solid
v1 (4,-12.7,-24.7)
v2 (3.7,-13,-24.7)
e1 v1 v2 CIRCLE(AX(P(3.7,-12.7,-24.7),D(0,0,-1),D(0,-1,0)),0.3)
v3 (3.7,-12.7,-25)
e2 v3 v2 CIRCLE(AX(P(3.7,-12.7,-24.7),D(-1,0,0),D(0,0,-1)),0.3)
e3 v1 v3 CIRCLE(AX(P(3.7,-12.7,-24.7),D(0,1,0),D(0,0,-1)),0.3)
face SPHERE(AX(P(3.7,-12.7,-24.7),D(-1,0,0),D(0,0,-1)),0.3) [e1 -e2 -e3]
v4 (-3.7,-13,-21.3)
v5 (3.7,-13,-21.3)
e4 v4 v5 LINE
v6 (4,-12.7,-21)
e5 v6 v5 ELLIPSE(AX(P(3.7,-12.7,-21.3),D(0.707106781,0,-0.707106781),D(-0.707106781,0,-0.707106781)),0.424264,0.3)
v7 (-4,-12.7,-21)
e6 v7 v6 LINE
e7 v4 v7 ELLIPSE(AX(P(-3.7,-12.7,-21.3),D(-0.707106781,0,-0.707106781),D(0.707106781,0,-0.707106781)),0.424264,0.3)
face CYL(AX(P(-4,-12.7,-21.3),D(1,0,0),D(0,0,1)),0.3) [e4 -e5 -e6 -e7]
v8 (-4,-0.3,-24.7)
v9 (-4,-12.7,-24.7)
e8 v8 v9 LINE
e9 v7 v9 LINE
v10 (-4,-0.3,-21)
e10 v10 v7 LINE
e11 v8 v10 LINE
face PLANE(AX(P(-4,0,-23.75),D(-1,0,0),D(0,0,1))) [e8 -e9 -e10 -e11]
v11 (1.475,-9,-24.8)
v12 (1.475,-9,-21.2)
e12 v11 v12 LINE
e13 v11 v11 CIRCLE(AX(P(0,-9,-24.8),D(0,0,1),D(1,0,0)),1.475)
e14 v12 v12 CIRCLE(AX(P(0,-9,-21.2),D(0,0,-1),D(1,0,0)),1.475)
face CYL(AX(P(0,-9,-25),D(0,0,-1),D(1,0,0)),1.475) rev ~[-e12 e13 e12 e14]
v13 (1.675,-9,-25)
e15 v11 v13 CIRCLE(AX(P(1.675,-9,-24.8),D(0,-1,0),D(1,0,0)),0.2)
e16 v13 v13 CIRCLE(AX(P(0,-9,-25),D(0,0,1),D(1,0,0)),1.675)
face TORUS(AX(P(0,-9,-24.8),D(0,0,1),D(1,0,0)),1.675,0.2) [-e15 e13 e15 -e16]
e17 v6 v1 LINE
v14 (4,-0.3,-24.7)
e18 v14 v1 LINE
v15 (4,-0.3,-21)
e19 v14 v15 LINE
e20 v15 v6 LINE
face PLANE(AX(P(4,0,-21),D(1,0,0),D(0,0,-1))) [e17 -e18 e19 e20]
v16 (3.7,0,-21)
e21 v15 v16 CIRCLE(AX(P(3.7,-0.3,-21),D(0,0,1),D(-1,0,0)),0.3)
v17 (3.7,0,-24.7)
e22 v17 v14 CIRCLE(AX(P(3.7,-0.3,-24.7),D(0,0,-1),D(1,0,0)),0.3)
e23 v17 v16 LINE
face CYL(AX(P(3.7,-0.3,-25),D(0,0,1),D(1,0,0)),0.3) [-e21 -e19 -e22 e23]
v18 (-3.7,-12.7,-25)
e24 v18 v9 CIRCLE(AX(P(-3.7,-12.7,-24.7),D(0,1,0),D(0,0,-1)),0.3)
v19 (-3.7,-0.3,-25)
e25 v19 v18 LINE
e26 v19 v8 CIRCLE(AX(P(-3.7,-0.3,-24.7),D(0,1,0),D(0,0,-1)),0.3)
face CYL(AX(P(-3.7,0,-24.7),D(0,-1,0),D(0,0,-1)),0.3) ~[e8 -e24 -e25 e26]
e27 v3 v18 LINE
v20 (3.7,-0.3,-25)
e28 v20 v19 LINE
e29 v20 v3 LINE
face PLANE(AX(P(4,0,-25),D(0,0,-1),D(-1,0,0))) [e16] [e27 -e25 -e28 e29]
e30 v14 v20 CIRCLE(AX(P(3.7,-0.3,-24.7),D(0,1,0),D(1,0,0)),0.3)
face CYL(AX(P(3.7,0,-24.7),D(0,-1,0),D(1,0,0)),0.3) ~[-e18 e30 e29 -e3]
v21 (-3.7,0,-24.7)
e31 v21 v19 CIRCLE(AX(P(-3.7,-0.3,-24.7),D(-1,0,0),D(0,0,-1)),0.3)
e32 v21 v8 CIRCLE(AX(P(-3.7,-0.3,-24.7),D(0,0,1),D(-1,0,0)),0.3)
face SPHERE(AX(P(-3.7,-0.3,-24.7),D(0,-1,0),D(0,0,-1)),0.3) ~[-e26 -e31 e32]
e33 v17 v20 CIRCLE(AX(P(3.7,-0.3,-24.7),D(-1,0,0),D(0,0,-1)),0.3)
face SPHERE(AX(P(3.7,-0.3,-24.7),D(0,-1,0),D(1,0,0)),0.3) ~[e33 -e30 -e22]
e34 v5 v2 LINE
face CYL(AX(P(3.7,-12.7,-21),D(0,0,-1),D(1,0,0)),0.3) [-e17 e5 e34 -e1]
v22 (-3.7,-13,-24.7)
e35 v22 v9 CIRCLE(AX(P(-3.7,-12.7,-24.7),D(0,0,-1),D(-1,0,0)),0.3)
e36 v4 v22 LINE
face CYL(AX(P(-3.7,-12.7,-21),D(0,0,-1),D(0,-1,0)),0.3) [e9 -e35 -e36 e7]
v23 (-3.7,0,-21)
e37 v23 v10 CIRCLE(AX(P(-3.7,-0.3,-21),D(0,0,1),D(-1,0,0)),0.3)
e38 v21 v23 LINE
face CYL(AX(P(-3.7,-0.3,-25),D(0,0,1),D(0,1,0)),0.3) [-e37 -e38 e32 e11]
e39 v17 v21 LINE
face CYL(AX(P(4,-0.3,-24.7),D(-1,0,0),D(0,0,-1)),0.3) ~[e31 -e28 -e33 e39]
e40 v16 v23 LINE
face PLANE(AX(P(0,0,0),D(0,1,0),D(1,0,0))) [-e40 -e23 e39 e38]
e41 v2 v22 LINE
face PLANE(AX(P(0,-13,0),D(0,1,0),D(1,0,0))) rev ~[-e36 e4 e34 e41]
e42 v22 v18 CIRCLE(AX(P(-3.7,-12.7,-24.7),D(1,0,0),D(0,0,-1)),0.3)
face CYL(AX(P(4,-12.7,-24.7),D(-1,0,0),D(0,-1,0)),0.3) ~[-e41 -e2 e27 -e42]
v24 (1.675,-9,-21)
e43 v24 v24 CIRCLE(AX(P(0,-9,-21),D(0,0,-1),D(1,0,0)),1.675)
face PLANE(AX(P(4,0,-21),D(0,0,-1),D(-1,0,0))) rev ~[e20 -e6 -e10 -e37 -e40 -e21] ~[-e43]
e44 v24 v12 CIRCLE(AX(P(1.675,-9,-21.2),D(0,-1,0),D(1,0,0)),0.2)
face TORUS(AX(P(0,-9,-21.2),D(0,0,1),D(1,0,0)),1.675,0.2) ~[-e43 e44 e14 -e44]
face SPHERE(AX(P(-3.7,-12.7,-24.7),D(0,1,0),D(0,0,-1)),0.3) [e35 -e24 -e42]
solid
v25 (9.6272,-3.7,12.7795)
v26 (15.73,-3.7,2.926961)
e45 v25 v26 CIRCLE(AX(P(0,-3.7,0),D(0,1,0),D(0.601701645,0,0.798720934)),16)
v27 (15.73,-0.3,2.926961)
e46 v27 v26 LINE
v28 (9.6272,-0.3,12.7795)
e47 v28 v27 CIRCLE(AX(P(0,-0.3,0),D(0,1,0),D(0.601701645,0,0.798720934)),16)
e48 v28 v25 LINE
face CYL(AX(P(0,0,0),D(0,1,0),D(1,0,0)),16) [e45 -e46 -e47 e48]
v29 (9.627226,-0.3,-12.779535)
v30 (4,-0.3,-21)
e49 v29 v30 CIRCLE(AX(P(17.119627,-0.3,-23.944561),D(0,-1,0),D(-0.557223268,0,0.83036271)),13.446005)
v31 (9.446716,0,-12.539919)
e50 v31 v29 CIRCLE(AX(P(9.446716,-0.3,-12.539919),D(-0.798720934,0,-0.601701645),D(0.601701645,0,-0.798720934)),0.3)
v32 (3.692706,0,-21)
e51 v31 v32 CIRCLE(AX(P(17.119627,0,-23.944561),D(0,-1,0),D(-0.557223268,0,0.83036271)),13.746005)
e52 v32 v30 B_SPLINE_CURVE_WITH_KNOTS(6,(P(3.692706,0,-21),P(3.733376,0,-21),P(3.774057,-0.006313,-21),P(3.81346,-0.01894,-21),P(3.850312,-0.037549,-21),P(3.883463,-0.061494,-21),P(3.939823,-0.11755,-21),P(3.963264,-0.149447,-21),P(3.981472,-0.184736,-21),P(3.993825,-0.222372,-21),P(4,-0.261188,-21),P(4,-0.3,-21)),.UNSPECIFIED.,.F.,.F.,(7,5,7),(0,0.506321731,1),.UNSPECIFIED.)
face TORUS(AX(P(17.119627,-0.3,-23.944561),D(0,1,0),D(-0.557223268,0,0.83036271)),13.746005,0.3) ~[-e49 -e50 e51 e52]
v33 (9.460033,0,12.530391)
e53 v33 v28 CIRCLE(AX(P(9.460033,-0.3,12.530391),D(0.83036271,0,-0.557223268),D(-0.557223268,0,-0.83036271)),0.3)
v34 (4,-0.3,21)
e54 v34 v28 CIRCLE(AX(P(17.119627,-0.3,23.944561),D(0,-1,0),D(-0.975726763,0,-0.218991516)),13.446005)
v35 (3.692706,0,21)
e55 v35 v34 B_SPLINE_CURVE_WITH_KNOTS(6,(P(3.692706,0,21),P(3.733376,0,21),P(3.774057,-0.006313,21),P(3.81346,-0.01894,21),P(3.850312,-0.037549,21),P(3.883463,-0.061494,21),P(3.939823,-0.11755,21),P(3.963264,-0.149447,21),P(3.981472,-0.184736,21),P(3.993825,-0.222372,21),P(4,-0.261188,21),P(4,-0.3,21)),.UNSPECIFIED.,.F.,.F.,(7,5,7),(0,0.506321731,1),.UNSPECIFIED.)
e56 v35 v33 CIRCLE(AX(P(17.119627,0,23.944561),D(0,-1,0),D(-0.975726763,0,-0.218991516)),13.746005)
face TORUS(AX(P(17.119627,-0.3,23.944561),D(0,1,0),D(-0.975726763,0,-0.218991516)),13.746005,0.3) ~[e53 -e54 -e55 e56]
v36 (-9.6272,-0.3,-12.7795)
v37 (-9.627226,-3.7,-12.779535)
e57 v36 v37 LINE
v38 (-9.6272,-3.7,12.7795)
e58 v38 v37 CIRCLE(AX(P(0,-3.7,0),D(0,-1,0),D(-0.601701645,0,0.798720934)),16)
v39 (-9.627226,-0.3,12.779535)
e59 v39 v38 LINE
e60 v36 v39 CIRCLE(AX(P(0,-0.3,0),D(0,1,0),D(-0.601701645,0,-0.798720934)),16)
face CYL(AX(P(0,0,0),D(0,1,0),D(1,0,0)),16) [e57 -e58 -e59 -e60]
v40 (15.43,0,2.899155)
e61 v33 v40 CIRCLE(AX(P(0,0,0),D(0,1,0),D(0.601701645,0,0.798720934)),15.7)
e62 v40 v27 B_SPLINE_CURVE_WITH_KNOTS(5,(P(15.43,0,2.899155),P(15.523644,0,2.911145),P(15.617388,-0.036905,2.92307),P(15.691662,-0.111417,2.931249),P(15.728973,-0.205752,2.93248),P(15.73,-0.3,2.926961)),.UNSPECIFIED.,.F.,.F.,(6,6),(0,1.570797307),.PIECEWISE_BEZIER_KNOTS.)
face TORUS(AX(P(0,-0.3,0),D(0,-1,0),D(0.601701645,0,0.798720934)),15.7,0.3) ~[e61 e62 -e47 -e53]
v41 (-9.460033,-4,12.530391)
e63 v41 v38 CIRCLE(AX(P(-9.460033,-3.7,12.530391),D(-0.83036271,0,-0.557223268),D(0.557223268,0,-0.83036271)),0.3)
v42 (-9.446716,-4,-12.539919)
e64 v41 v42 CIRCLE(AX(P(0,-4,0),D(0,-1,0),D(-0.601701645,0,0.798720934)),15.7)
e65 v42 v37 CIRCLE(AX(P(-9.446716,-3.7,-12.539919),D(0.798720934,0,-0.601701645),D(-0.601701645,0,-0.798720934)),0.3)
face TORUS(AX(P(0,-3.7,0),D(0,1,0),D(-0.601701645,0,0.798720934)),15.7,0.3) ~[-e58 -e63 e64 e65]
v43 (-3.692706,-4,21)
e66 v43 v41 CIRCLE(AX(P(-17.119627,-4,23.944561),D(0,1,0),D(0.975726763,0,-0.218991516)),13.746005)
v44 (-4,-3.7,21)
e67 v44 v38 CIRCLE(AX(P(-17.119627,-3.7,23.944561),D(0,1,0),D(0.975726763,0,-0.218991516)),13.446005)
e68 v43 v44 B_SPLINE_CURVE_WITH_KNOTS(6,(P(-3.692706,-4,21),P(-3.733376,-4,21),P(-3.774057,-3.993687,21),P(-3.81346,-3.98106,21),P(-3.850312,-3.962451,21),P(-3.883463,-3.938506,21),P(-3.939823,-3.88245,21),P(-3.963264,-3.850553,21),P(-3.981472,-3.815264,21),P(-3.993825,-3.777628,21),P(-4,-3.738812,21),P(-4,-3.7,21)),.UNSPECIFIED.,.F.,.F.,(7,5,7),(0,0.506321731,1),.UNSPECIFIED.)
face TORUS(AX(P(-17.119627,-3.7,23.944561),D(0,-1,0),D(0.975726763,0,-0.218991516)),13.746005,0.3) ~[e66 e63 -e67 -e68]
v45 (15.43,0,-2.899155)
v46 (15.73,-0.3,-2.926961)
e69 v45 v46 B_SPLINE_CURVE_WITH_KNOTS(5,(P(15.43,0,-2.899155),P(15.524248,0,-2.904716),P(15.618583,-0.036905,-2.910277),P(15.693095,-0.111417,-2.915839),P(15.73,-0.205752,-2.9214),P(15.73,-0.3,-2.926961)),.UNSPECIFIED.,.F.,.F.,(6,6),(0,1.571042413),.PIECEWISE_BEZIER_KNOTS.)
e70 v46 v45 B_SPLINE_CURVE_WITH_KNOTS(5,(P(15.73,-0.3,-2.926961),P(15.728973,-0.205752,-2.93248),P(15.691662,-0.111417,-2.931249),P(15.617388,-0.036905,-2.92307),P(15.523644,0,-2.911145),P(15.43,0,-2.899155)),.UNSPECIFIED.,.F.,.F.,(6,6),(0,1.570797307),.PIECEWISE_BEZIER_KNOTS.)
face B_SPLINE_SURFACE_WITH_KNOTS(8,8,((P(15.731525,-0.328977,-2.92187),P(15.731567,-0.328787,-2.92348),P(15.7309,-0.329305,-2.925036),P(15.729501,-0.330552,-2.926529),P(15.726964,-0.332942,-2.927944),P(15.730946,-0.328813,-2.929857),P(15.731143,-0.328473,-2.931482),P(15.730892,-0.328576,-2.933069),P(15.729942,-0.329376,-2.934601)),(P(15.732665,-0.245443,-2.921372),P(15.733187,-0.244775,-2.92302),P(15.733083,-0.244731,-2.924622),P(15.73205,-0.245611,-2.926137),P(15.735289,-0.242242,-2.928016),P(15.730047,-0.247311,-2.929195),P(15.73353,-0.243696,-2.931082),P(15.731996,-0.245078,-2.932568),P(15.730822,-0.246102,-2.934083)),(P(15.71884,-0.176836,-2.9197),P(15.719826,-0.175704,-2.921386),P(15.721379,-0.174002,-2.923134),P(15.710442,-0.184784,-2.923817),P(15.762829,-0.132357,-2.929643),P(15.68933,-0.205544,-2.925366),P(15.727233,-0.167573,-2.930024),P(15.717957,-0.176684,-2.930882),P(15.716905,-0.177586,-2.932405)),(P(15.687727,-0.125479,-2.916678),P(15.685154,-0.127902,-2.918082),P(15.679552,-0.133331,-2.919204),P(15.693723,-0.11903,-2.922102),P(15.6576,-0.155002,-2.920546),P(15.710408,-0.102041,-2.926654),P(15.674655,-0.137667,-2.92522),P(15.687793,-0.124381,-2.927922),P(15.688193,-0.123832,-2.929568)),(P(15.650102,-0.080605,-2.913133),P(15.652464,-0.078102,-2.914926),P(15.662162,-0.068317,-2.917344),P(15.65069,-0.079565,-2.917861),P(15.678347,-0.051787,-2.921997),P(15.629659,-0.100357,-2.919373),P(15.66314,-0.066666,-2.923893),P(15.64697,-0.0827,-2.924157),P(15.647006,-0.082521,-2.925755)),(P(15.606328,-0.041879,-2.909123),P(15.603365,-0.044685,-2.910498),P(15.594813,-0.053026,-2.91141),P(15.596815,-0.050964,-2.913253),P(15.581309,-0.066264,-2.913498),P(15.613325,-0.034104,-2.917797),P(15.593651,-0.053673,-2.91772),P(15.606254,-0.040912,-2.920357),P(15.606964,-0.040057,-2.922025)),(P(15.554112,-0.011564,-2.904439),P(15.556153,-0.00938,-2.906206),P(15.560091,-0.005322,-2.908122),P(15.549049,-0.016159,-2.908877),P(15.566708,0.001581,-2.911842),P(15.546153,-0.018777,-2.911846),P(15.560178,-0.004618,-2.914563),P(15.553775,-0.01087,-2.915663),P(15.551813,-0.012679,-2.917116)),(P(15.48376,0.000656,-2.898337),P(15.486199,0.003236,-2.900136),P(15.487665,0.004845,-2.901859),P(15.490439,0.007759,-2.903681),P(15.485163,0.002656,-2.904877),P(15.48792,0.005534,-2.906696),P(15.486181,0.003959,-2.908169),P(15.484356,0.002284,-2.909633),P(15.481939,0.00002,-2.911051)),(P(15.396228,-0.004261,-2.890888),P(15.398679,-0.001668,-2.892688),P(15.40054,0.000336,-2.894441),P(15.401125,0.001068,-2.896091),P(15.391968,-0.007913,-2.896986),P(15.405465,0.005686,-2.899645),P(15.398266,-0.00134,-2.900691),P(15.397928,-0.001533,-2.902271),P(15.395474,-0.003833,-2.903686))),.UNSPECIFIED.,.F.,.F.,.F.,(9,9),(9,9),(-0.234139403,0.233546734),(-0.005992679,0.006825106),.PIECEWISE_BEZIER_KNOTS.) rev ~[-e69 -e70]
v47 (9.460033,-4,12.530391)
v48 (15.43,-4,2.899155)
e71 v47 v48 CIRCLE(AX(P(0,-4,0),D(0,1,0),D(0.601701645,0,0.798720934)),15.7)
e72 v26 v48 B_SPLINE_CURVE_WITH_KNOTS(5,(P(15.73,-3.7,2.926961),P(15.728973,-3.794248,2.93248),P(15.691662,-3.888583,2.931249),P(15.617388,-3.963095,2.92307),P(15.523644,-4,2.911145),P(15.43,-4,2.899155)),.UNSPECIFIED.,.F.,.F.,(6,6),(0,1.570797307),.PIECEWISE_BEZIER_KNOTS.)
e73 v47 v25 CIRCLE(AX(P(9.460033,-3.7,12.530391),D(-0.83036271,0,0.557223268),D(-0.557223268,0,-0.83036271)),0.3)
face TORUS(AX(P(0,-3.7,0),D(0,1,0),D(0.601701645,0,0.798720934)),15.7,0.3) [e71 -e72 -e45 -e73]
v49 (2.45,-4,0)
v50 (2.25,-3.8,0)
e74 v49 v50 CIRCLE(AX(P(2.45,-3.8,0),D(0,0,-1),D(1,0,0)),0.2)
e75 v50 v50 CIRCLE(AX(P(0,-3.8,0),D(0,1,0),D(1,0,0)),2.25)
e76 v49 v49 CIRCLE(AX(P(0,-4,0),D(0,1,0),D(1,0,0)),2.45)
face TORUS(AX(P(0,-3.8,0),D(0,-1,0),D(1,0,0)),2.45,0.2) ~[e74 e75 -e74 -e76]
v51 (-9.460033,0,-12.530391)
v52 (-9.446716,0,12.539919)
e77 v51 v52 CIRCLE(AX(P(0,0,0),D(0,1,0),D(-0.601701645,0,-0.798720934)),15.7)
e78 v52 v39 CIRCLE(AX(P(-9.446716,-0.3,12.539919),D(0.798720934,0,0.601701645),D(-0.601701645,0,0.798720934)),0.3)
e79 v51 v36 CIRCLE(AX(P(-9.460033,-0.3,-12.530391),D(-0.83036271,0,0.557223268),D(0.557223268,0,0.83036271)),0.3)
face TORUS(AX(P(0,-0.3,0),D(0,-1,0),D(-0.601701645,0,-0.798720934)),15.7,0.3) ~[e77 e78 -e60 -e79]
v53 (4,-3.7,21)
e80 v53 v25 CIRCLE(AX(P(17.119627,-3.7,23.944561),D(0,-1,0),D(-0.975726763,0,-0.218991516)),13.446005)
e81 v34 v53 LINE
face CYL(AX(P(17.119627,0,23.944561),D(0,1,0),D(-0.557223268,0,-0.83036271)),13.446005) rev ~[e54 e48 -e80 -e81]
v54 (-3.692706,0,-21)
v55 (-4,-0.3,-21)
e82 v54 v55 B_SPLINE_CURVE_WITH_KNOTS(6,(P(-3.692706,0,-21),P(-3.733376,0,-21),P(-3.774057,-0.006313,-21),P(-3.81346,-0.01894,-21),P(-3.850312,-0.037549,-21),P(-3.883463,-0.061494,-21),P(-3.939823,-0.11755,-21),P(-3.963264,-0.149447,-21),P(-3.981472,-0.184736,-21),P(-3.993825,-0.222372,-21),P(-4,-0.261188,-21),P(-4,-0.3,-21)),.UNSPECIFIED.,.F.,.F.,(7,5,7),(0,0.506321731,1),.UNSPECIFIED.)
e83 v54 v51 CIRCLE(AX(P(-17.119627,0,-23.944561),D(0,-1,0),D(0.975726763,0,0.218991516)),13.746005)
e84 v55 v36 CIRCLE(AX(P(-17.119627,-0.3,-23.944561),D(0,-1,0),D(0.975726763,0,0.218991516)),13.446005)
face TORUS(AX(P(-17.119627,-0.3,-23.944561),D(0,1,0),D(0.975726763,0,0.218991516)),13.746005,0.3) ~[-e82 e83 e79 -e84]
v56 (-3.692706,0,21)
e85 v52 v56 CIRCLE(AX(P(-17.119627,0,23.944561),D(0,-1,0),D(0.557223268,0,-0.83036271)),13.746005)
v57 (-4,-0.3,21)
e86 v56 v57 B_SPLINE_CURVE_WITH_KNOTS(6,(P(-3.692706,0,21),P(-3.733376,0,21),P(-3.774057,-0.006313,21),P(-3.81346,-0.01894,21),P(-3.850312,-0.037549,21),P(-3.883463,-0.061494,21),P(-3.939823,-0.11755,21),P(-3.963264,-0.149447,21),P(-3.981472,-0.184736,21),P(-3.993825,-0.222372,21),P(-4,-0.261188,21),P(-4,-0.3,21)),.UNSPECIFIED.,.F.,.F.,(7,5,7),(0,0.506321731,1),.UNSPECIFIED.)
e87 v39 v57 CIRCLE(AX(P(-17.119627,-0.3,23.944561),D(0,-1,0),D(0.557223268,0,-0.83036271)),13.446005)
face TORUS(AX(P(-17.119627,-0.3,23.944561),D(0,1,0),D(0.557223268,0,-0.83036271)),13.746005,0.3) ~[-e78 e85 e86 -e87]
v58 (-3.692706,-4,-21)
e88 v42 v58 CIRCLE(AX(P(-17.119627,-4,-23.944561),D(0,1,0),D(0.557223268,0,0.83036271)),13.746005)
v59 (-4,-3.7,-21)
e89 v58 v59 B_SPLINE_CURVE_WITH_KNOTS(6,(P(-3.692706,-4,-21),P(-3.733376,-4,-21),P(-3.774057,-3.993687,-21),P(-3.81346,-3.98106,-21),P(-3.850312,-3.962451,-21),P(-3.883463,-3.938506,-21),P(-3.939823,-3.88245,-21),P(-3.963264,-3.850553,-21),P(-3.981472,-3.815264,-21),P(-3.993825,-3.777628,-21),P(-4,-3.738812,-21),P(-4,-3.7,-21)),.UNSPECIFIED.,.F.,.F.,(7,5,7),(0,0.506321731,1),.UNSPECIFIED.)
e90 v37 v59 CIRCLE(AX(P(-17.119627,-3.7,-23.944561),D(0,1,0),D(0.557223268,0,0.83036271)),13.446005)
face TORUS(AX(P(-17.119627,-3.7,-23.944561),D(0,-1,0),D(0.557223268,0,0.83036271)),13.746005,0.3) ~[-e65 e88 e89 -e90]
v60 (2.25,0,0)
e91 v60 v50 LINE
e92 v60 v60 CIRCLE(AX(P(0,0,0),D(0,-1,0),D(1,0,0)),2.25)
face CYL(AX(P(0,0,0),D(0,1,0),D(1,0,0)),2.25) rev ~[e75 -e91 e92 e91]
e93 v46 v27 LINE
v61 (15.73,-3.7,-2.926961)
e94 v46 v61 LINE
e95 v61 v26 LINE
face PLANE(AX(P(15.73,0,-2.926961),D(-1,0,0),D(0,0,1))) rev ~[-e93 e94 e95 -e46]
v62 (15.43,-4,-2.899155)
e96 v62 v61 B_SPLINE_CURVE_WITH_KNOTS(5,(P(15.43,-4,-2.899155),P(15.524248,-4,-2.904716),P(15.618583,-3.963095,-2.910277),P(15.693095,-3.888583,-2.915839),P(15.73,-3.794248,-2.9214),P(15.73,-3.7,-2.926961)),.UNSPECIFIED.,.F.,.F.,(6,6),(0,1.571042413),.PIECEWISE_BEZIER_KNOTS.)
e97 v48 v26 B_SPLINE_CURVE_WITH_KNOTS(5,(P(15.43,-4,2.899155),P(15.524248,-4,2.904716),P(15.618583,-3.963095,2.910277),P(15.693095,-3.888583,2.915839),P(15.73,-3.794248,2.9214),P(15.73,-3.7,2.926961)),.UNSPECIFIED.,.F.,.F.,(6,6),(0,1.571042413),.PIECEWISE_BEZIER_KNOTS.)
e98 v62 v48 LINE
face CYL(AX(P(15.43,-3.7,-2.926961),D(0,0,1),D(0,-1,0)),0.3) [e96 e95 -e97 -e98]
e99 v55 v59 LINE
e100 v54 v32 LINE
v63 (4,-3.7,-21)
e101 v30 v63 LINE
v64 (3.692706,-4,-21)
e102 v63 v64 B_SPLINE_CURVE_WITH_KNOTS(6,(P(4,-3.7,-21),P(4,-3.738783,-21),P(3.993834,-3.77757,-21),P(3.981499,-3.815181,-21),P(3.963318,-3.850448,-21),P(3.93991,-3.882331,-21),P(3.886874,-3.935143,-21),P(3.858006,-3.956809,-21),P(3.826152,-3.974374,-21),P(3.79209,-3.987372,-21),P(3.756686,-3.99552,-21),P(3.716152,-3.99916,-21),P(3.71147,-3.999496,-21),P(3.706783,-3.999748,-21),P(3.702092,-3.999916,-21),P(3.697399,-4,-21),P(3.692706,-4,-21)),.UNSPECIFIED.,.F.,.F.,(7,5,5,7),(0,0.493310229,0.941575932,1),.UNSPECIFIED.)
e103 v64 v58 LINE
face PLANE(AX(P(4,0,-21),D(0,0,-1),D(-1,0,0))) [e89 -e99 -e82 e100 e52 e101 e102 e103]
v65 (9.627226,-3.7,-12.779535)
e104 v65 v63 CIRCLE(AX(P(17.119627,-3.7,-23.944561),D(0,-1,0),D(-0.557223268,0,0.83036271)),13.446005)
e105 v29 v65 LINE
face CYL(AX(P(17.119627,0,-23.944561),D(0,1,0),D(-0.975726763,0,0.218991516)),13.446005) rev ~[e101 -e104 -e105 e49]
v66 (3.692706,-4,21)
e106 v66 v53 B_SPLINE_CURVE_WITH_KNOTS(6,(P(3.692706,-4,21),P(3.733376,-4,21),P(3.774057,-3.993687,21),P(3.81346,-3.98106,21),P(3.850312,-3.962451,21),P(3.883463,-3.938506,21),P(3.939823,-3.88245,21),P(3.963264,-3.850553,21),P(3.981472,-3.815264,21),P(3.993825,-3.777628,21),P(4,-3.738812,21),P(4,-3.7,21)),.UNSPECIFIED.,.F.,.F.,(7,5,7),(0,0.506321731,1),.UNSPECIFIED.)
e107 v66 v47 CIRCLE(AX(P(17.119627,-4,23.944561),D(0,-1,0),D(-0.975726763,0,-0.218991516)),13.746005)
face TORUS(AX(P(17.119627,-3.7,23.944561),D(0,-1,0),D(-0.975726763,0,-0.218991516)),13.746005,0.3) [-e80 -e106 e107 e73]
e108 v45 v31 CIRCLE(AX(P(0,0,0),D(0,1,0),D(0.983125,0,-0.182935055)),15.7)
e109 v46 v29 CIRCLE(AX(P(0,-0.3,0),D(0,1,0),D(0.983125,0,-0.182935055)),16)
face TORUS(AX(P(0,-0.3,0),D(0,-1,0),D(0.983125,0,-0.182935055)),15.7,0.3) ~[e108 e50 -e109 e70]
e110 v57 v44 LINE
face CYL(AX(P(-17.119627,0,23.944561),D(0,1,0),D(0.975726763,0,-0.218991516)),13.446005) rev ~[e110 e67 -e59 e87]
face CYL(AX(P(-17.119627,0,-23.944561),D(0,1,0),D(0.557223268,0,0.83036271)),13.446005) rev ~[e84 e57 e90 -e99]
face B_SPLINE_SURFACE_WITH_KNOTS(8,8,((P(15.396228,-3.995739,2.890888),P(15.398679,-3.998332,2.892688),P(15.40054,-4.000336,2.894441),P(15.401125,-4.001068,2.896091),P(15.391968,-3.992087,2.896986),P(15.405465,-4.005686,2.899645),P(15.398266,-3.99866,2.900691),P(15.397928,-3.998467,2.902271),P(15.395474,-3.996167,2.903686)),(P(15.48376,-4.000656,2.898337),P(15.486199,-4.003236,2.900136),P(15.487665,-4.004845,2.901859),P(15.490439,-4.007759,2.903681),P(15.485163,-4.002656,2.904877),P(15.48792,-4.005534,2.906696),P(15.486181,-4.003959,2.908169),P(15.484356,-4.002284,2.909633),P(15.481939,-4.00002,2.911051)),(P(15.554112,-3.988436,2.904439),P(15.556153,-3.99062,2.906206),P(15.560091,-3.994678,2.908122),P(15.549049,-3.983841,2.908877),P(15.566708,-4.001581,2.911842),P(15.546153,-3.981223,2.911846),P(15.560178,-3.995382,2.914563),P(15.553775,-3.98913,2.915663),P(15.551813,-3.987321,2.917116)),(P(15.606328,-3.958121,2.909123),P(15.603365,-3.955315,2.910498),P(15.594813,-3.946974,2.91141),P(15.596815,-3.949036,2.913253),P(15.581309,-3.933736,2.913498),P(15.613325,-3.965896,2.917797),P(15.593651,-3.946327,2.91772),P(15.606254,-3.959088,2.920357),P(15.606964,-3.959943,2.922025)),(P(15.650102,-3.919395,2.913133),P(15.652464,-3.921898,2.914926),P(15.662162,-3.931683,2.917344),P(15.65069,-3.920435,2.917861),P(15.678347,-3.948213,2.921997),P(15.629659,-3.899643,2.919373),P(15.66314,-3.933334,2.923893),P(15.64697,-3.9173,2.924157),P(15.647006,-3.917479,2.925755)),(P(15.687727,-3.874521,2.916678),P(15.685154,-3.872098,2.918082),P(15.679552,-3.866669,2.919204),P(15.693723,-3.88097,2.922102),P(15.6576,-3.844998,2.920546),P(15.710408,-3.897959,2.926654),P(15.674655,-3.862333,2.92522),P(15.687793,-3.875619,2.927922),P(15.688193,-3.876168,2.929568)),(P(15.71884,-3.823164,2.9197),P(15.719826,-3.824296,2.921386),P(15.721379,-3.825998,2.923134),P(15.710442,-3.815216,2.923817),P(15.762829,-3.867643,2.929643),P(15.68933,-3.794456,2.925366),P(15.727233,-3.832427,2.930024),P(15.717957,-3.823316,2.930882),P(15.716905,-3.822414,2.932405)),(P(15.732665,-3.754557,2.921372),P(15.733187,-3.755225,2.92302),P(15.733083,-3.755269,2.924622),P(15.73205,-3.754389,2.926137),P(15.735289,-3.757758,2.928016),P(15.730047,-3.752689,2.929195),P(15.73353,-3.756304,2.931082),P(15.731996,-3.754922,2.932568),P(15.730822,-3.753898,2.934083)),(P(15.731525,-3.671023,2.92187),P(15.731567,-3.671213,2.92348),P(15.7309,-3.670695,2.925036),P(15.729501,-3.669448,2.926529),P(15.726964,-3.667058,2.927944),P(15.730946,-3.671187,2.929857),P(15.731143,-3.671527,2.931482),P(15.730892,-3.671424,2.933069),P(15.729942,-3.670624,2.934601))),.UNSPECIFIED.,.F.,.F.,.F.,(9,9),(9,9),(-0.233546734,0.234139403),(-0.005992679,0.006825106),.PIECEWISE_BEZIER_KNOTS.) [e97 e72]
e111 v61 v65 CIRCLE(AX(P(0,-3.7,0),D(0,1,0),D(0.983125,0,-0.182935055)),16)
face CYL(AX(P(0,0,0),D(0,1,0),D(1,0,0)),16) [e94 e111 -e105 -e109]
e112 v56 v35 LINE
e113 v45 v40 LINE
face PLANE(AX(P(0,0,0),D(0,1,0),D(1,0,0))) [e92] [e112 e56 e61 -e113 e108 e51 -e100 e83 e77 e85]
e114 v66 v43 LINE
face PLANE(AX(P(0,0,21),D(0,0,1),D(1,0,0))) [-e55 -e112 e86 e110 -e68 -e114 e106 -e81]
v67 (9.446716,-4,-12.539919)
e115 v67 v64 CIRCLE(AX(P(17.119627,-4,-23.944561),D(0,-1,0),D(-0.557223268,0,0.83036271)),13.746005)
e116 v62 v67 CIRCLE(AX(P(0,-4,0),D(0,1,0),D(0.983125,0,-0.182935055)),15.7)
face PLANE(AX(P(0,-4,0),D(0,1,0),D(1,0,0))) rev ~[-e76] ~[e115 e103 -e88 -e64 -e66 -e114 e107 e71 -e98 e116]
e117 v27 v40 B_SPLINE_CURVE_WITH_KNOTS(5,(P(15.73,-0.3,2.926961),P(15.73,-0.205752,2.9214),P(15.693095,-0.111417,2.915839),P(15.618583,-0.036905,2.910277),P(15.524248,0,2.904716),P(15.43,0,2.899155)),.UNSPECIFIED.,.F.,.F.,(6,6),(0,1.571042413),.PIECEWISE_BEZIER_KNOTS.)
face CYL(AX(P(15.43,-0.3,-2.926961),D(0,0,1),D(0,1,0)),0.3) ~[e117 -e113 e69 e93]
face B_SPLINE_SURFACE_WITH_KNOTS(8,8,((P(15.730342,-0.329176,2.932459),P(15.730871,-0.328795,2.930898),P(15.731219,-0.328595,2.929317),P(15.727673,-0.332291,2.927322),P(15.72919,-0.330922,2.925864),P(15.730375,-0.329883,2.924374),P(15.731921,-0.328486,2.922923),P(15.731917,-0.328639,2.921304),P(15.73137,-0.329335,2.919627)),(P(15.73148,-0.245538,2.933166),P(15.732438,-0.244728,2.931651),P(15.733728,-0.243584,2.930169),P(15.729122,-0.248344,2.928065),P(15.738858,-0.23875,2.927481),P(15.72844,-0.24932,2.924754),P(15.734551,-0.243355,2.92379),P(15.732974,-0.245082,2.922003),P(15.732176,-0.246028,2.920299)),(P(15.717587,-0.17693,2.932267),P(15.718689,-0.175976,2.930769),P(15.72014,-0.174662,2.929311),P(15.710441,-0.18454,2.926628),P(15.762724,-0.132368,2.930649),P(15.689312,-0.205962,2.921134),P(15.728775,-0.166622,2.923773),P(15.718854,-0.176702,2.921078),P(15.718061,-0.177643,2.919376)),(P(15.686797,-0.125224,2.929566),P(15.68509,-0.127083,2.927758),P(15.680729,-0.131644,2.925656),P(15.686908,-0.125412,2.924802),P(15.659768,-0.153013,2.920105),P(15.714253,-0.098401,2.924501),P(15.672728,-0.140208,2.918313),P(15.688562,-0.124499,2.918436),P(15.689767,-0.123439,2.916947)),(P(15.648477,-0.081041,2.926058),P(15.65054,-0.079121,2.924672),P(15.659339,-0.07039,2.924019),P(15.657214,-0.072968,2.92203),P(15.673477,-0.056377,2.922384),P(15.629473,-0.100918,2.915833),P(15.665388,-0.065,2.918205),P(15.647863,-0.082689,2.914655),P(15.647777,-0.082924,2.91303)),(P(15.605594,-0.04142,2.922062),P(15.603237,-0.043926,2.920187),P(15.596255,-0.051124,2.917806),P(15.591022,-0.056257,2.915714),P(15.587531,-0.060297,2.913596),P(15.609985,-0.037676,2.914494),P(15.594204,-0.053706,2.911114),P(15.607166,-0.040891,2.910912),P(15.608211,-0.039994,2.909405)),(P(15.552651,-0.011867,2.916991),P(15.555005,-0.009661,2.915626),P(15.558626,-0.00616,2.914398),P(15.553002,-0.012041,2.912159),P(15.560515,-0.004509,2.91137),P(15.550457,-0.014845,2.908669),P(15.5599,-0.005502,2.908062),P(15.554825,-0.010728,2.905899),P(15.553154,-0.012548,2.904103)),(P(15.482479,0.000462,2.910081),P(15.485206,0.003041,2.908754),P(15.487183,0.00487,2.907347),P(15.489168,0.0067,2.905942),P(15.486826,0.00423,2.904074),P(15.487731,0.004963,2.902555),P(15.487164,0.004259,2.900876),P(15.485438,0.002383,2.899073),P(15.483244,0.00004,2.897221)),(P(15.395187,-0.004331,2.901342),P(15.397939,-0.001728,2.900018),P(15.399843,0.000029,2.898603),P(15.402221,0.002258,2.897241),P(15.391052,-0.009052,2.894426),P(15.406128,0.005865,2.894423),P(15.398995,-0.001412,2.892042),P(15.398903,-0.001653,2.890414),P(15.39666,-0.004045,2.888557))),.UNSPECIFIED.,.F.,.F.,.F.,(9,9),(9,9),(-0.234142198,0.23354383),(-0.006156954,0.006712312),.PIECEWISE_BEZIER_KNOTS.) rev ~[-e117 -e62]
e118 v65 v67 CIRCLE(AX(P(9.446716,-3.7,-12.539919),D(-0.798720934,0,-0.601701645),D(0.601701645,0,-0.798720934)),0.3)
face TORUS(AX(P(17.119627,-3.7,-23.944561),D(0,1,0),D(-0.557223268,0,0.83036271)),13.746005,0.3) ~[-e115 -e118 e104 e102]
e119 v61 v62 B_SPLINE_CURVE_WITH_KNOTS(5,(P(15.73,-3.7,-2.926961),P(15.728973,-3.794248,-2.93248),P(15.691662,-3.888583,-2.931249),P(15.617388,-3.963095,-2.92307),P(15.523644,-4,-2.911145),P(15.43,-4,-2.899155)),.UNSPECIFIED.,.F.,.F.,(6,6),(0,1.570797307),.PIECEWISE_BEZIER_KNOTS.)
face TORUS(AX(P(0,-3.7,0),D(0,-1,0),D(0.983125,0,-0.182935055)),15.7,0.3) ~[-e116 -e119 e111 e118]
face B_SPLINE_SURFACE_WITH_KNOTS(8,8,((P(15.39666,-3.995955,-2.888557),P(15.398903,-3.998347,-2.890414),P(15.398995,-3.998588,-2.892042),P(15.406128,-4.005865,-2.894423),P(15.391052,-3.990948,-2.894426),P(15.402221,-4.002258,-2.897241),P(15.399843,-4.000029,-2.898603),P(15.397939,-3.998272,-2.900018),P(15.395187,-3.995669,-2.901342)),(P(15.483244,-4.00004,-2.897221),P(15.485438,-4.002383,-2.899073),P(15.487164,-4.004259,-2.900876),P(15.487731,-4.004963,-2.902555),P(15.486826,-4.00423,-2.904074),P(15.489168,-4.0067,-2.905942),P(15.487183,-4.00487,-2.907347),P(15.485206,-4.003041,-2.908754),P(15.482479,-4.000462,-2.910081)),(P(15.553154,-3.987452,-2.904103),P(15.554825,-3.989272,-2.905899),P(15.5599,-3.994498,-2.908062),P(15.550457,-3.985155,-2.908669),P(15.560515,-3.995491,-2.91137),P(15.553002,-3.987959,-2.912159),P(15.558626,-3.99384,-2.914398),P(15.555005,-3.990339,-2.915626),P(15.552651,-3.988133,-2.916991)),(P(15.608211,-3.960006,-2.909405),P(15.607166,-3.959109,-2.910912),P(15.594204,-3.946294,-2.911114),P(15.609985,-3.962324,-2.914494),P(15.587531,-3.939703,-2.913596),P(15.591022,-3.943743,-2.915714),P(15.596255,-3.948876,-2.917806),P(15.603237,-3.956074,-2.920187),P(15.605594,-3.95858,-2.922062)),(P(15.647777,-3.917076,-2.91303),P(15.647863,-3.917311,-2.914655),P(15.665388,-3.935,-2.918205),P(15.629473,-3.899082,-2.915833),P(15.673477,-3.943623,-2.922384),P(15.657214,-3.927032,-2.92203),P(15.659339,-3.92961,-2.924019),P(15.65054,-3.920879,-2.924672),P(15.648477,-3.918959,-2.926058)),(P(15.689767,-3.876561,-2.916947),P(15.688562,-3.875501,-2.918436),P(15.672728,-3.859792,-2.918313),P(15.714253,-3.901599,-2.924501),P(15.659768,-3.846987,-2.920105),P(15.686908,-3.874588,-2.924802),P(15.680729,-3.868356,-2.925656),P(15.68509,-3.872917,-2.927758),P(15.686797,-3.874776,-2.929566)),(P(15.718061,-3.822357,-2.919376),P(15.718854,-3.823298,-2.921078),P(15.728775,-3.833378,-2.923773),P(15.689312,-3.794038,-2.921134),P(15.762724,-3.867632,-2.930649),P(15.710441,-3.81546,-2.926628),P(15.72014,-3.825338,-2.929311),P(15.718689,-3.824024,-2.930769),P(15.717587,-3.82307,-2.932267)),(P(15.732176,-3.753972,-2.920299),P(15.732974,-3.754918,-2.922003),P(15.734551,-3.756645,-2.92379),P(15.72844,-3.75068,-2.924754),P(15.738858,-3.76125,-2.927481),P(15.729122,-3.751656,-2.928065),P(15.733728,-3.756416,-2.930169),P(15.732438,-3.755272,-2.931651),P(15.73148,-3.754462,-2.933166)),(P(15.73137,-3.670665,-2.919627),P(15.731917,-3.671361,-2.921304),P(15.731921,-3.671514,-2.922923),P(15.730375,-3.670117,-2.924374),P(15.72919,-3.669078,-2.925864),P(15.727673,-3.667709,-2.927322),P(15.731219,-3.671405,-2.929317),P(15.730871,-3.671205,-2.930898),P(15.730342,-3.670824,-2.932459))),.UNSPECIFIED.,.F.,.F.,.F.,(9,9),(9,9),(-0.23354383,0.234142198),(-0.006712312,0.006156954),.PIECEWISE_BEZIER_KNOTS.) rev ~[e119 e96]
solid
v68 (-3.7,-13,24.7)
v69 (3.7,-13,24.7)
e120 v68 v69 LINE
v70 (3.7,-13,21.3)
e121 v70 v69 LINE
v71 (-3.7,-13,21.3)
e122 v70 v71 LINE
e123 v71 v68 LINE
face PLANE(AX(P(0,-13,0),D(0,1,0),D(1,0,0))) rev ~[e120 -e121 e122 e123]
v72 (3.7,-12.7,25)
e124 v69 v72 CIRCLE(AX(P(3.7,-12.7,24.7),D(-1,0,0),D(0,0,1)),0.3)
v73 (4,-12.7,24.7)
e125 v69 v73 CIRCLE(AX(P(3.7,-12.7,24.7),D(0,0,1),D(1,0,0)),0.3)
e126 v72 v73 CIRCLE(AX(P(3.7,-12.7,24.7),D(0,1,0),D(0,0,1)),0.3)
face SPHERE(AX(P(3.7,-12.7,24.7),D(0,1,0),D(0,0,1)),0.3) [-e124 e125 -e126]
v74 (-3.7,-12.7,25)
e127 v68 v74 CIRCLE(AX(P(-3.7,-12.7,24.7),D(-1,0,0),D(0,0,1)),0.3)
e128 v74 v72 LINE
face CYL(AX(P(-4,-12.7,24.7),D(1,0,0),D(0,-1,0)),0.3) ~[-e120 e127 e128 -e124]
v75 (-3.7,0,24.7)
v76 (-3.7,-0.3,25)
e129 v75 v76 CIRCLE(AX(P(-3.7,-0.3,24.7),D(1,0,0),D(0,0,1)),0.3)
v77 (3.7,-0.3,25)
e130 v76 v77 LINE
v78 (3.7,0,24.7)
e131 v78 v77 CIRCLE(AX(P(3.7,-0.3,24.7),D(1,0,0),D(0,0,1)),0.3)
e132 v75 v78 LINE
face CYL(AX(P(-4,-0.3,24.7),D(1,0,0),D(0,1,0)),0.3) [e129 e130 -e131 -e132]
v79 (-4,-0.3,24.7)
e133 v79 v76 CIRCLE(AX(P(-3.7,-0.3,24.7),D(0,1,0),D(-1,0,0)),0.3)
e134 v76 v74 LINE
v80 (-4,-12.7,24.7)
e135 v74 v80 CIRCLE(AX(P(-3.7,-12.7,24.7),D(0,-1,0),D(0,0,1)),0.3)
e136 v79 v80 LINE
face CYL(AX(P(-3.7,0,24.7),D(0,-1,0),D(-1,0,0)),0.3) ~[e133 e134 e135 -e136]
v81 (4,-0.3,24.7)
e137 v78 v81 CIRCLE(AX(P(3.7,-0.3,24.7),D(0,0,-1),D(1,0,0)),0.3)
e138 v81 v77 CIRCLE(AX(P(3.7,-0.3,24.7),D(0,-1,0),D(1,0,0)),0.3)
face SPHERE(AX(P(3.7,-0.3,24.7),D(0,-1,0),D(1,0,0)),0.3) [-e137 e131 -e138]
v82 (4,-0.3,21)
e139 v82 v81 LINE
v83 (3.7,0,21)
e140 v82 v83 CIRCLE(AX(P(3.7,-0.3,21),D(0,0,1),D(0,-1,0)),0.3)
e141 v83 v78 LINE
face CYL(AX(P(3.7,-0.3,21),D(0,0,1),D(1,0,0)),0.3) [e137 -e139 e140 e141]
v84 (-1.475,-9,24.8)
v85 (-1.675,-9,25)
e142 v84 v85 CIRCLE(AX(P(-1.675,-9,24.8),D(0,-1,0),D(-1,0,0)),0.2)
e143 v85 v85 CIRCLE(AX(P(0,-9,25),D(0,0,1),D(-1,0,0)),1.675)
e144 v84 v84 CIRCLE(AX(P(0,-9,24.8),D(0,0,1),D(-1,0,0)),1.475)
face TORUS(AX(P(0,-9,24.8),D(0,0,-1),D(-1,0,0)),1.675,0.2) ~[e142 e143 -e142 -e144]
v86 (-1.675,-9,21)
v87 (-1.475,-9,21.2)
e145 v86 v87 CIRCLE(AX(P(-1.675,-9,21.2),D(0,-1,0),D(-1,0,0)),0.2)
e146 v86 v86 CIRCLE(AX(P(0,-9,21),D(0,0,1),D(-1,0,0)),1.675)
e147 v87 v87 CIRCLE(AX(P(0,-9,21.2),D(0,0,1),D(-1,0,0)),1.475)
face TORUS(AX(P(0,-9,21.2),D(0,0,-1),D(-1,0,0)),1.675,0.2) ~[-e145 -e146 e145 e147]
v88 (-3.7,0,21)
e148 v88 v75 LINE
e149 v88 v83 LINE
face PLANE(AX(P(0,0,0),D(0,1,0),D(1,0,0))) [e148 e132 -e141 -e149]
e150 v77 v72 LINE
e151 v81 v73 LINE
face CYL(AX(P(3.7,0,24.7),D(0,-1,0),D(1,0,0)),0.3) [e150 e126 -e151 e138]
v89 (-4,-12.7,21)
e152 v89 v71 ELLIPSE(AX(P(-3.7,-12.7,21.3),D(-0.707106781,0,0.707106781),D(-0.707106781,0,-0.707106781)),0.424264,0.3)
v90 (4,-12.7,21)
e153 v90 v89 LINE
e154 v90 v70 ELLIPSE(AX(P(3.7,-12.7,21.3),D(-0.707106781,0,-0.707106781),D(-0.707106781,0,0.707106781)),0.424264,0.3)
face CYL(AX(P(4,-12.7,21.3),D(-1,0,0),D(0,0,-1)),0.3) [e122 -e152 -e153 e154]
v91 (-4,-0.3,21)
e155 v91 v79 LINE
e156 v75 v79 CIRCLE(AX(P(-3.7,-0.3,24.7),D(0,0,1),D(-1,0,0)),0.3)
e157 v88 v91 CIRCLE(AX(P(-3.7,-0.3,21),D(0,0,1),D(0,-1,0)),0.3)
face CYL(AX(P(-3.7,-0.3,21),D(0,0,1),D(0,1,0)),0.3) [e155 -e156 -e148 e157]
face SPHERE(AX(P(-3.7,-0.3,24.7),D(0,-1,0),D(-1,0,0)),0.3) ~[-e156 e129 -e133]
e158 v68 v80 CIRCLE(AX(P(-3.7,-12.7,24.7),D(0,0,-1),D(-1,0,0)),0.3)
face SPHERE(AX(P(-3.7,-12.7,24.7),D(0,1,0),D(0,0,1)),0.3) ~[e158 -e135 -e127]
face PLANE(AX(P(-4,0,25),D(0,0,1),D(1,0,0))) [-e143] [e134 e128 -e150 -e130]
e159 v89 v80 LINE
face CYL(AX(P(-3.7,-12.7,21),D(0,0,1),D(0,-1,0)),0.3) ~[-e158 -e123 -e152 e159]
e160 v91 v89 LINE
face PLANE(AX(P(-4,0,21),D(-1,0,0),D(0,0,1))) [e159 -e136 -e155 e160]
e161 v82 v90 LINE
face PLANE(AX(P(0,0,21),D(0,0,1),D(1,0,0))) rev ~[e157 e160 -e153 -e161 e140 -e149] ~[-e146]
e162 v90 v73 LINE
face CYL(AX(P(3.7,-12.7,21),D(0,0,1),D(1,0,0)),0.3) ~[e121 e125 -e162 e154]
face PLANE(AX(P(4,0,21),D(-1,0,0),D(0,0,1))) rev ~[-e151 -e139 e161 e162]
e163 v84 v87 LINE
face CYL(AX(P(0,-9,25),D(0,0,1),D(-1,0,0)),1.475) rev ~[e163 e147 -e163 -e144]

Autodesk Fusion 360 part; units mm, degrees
sketch "Sketch1" plane through (0, 0, 0) normal (0, 1, 0) x (1, 0, 0)
  line L0 (0, 23.75) -> (0, -23.75)
  circle A0 centre (0, 0) radius 14
  circle A1 centre (0, 0) radius 16
  line L1 (-24, 3) -> (-19.73, 6)
  line L2 (-24, 3) -> (-15.7162, 3)
  line L3 (-24, -3) -> (-24, 3)
  line L4 (-24, -3) -> (-19.73, -6)
  line L5 (-19.73, -6) -> (-9.6272, -12.7795)
  arc A2 (-4, -21) -> (-9.6272, -12.7795) centre (-17.1196, -23.9446) ccw
  line L6 (0, -21) -> (-4, -21)
  arc A3 (9.6272, -12.7795) -> (4, -21) centre (17.1196, -23.9446) ccw
  line L7 (0, -21) -> (-9.6272, -21)
  line L8 (-9.6272, -12.7795) -> (-9.6272, -23.75)
  line L9 (15.73, 23.75) -> (15.73, -38.25)
  line L10 (9.6272, -12.7795) -> (15.73, -12.7795)
  arc A4 (15.73, -21) -> (9.6272, -12.7795) centre (-22.0081, -42.6408) ccw
  line L11 (9.6272, 12.7795) -> (15.73, 12.7795)
  arc A5 (4, 21) -> (9.6272, 12.7795) centre (17.1196, 23.9446) ccw
  line L12 (4, 21) -> (-4, 21)
  arc A6 (-9.6272, 12.7795) -> (-4, 21) centre (-17.1196, 23.9446) ccw
  line L13 (7.8284, 24.4933) -> (7.8284, 23.75)
  line L14 (0, 23.75) -> (14, 23.75)
  line L15 (19.73, 23.75) -> (-19.73, 23.75)
  line L16 (-19.73, 23.75) -> (-19.73, -38.25)
  line L17 (-19.73, -38.25) -> (19.73, -38.25)
  line L18 (19.73, -38.25) -> (19.73, 23.75)
  line L19 (19.73, 23.75) -> (15.73, 23.75)
  line L20 (4, -21) -> (4, -25)
  line L21 (-4, -21) -> (-4, -25)
  line L22 (-4, -25) -> (4, -25)
  line L23 (4, 21) -> (4, 25)
  line L24 (4, 25) -> (-4, 25)
  line L25 (-4, 25) -> (-4, 21)
  line L26 (0, -21) -> (4, -21)
  circle A7 centre (0, 0) radius 2.25
  dimension "d1" = 19.73
  dimension "d2" = 14
  dimension "d3" = 28
  dimension "d4" = 32
  dimension "d5" = 6
  dimension "d6" = 4
  dimension "d8" = 47.5
  dimension "d11" = 4
  dimension "d21" = 4.5
extrude "Extrude1" add sketch "Sketch1" against normal blind 4 contours L0 A1 A5 L12 | L0 A1 L12 A6 | L0 A0 A1 A3 L9 A5 | L0 A0 A1 A2 A6 | L0 A0 A7 | L0 A0 A7 | L0 A1 A3 L26 | L0 A1 A2 L6 L7 makes body 1
extrude "Extrude2" add sketch "Sketch1" against normal blind 13 separate body contours L0 L12 L14 L15 L23 | L14 L15 L23 L24 L25 | L0 L12 L15 L25 | L6 L7 L20 L21 L22 L26 makes body 2 at (-1.3333, -4.3333, 21) makes body 3 at (1.3333, -4.3333, -25)
sketch "Sketch2" plane through (0, 0, 25) normal (0, 0, 1) x (-1, 0, 0)
  line L0 (-4, 0) -> (4, 0)
  line L1 (4, 0) -> (4, 13)
  line L2 (4, 13) -> (-4, 13)
  line L3 (-4, 13) -> (-4, 0)
  line L4 (0, 0) -> (0, 9)
  circle A0 centre (0, 9) radius 1.475
  dimension "d14" = 9
  dimension "d15" = 2.95
sketch "Sketch3" plane through (0, 0, -25) normal (0, 0, -1) x (1, 0, 0)
  line L0 (-4, 0) -> (4, 0)
  line L1 (4, 0) -> (4, 13)
  line L2 (4, 13) -> (-4, 13)
  line L3 (-4, 13) -> (-4, 0)
  line L4 (0, 0) -> (0, 9)
  circle A0 centre (0, 9) radius 1.475
  dimension "d16" = 2.95
extrude "Extrude3" cut sketch "Sketch3" against normal blind 4 contours A0 bodies 3
extrude "Extrude4" cut sketch "Sketch2" against normal blind 4 contours A0 bodies 2
fillet "Fillet1" radius 0.3 34 edges at (-16, -4, 0) (-6.0242, -4, 16.3494) (-6.0242, -4, -16.3494) (6.0242, -4, -16.3494) (13.602, -4, -8.4252) (15.73, -4, 0) (13.602, -4, 8.4252) (6.0242, -4, 16.3494) (6.0242, 0, 16.3494) (13.602, 0, 8.4252) (15.73, 0, 0) (13.602, 0, -8.4252) (6.0242, 0, -16.3494) (-6.0242, 0, -16.3494) (-16, 0, 0) (-6.0242, 0, 16.3494) (-4, -6.5, 25) (4, -6.5, 25) (0, -13, 25) (0, -13, 21) (-4, -13, 23) (4, -13, 23) (-4, 0, 23) (4, 0, 23) (0, 0, 25) (-4, -6.5, -25) (0, -13, -25) (4, -6.5, -25) (-4, -13, -23) (4, -13, -23) (0, -13, -21) (4, 0, -23) (0, 0, -25) (-4, 0, -23) on bodies 1 2 3
fillet "Fillet2" radius 0.2 5 edges at (-2.0977, -4, 0.8136) (1.3752, -9.5334, 25) (1.3752, -8.4666, 21) (-1.3752, -8.4666, -21) (-1.3752, -9.5334, -25) on bodies 1 2 3
